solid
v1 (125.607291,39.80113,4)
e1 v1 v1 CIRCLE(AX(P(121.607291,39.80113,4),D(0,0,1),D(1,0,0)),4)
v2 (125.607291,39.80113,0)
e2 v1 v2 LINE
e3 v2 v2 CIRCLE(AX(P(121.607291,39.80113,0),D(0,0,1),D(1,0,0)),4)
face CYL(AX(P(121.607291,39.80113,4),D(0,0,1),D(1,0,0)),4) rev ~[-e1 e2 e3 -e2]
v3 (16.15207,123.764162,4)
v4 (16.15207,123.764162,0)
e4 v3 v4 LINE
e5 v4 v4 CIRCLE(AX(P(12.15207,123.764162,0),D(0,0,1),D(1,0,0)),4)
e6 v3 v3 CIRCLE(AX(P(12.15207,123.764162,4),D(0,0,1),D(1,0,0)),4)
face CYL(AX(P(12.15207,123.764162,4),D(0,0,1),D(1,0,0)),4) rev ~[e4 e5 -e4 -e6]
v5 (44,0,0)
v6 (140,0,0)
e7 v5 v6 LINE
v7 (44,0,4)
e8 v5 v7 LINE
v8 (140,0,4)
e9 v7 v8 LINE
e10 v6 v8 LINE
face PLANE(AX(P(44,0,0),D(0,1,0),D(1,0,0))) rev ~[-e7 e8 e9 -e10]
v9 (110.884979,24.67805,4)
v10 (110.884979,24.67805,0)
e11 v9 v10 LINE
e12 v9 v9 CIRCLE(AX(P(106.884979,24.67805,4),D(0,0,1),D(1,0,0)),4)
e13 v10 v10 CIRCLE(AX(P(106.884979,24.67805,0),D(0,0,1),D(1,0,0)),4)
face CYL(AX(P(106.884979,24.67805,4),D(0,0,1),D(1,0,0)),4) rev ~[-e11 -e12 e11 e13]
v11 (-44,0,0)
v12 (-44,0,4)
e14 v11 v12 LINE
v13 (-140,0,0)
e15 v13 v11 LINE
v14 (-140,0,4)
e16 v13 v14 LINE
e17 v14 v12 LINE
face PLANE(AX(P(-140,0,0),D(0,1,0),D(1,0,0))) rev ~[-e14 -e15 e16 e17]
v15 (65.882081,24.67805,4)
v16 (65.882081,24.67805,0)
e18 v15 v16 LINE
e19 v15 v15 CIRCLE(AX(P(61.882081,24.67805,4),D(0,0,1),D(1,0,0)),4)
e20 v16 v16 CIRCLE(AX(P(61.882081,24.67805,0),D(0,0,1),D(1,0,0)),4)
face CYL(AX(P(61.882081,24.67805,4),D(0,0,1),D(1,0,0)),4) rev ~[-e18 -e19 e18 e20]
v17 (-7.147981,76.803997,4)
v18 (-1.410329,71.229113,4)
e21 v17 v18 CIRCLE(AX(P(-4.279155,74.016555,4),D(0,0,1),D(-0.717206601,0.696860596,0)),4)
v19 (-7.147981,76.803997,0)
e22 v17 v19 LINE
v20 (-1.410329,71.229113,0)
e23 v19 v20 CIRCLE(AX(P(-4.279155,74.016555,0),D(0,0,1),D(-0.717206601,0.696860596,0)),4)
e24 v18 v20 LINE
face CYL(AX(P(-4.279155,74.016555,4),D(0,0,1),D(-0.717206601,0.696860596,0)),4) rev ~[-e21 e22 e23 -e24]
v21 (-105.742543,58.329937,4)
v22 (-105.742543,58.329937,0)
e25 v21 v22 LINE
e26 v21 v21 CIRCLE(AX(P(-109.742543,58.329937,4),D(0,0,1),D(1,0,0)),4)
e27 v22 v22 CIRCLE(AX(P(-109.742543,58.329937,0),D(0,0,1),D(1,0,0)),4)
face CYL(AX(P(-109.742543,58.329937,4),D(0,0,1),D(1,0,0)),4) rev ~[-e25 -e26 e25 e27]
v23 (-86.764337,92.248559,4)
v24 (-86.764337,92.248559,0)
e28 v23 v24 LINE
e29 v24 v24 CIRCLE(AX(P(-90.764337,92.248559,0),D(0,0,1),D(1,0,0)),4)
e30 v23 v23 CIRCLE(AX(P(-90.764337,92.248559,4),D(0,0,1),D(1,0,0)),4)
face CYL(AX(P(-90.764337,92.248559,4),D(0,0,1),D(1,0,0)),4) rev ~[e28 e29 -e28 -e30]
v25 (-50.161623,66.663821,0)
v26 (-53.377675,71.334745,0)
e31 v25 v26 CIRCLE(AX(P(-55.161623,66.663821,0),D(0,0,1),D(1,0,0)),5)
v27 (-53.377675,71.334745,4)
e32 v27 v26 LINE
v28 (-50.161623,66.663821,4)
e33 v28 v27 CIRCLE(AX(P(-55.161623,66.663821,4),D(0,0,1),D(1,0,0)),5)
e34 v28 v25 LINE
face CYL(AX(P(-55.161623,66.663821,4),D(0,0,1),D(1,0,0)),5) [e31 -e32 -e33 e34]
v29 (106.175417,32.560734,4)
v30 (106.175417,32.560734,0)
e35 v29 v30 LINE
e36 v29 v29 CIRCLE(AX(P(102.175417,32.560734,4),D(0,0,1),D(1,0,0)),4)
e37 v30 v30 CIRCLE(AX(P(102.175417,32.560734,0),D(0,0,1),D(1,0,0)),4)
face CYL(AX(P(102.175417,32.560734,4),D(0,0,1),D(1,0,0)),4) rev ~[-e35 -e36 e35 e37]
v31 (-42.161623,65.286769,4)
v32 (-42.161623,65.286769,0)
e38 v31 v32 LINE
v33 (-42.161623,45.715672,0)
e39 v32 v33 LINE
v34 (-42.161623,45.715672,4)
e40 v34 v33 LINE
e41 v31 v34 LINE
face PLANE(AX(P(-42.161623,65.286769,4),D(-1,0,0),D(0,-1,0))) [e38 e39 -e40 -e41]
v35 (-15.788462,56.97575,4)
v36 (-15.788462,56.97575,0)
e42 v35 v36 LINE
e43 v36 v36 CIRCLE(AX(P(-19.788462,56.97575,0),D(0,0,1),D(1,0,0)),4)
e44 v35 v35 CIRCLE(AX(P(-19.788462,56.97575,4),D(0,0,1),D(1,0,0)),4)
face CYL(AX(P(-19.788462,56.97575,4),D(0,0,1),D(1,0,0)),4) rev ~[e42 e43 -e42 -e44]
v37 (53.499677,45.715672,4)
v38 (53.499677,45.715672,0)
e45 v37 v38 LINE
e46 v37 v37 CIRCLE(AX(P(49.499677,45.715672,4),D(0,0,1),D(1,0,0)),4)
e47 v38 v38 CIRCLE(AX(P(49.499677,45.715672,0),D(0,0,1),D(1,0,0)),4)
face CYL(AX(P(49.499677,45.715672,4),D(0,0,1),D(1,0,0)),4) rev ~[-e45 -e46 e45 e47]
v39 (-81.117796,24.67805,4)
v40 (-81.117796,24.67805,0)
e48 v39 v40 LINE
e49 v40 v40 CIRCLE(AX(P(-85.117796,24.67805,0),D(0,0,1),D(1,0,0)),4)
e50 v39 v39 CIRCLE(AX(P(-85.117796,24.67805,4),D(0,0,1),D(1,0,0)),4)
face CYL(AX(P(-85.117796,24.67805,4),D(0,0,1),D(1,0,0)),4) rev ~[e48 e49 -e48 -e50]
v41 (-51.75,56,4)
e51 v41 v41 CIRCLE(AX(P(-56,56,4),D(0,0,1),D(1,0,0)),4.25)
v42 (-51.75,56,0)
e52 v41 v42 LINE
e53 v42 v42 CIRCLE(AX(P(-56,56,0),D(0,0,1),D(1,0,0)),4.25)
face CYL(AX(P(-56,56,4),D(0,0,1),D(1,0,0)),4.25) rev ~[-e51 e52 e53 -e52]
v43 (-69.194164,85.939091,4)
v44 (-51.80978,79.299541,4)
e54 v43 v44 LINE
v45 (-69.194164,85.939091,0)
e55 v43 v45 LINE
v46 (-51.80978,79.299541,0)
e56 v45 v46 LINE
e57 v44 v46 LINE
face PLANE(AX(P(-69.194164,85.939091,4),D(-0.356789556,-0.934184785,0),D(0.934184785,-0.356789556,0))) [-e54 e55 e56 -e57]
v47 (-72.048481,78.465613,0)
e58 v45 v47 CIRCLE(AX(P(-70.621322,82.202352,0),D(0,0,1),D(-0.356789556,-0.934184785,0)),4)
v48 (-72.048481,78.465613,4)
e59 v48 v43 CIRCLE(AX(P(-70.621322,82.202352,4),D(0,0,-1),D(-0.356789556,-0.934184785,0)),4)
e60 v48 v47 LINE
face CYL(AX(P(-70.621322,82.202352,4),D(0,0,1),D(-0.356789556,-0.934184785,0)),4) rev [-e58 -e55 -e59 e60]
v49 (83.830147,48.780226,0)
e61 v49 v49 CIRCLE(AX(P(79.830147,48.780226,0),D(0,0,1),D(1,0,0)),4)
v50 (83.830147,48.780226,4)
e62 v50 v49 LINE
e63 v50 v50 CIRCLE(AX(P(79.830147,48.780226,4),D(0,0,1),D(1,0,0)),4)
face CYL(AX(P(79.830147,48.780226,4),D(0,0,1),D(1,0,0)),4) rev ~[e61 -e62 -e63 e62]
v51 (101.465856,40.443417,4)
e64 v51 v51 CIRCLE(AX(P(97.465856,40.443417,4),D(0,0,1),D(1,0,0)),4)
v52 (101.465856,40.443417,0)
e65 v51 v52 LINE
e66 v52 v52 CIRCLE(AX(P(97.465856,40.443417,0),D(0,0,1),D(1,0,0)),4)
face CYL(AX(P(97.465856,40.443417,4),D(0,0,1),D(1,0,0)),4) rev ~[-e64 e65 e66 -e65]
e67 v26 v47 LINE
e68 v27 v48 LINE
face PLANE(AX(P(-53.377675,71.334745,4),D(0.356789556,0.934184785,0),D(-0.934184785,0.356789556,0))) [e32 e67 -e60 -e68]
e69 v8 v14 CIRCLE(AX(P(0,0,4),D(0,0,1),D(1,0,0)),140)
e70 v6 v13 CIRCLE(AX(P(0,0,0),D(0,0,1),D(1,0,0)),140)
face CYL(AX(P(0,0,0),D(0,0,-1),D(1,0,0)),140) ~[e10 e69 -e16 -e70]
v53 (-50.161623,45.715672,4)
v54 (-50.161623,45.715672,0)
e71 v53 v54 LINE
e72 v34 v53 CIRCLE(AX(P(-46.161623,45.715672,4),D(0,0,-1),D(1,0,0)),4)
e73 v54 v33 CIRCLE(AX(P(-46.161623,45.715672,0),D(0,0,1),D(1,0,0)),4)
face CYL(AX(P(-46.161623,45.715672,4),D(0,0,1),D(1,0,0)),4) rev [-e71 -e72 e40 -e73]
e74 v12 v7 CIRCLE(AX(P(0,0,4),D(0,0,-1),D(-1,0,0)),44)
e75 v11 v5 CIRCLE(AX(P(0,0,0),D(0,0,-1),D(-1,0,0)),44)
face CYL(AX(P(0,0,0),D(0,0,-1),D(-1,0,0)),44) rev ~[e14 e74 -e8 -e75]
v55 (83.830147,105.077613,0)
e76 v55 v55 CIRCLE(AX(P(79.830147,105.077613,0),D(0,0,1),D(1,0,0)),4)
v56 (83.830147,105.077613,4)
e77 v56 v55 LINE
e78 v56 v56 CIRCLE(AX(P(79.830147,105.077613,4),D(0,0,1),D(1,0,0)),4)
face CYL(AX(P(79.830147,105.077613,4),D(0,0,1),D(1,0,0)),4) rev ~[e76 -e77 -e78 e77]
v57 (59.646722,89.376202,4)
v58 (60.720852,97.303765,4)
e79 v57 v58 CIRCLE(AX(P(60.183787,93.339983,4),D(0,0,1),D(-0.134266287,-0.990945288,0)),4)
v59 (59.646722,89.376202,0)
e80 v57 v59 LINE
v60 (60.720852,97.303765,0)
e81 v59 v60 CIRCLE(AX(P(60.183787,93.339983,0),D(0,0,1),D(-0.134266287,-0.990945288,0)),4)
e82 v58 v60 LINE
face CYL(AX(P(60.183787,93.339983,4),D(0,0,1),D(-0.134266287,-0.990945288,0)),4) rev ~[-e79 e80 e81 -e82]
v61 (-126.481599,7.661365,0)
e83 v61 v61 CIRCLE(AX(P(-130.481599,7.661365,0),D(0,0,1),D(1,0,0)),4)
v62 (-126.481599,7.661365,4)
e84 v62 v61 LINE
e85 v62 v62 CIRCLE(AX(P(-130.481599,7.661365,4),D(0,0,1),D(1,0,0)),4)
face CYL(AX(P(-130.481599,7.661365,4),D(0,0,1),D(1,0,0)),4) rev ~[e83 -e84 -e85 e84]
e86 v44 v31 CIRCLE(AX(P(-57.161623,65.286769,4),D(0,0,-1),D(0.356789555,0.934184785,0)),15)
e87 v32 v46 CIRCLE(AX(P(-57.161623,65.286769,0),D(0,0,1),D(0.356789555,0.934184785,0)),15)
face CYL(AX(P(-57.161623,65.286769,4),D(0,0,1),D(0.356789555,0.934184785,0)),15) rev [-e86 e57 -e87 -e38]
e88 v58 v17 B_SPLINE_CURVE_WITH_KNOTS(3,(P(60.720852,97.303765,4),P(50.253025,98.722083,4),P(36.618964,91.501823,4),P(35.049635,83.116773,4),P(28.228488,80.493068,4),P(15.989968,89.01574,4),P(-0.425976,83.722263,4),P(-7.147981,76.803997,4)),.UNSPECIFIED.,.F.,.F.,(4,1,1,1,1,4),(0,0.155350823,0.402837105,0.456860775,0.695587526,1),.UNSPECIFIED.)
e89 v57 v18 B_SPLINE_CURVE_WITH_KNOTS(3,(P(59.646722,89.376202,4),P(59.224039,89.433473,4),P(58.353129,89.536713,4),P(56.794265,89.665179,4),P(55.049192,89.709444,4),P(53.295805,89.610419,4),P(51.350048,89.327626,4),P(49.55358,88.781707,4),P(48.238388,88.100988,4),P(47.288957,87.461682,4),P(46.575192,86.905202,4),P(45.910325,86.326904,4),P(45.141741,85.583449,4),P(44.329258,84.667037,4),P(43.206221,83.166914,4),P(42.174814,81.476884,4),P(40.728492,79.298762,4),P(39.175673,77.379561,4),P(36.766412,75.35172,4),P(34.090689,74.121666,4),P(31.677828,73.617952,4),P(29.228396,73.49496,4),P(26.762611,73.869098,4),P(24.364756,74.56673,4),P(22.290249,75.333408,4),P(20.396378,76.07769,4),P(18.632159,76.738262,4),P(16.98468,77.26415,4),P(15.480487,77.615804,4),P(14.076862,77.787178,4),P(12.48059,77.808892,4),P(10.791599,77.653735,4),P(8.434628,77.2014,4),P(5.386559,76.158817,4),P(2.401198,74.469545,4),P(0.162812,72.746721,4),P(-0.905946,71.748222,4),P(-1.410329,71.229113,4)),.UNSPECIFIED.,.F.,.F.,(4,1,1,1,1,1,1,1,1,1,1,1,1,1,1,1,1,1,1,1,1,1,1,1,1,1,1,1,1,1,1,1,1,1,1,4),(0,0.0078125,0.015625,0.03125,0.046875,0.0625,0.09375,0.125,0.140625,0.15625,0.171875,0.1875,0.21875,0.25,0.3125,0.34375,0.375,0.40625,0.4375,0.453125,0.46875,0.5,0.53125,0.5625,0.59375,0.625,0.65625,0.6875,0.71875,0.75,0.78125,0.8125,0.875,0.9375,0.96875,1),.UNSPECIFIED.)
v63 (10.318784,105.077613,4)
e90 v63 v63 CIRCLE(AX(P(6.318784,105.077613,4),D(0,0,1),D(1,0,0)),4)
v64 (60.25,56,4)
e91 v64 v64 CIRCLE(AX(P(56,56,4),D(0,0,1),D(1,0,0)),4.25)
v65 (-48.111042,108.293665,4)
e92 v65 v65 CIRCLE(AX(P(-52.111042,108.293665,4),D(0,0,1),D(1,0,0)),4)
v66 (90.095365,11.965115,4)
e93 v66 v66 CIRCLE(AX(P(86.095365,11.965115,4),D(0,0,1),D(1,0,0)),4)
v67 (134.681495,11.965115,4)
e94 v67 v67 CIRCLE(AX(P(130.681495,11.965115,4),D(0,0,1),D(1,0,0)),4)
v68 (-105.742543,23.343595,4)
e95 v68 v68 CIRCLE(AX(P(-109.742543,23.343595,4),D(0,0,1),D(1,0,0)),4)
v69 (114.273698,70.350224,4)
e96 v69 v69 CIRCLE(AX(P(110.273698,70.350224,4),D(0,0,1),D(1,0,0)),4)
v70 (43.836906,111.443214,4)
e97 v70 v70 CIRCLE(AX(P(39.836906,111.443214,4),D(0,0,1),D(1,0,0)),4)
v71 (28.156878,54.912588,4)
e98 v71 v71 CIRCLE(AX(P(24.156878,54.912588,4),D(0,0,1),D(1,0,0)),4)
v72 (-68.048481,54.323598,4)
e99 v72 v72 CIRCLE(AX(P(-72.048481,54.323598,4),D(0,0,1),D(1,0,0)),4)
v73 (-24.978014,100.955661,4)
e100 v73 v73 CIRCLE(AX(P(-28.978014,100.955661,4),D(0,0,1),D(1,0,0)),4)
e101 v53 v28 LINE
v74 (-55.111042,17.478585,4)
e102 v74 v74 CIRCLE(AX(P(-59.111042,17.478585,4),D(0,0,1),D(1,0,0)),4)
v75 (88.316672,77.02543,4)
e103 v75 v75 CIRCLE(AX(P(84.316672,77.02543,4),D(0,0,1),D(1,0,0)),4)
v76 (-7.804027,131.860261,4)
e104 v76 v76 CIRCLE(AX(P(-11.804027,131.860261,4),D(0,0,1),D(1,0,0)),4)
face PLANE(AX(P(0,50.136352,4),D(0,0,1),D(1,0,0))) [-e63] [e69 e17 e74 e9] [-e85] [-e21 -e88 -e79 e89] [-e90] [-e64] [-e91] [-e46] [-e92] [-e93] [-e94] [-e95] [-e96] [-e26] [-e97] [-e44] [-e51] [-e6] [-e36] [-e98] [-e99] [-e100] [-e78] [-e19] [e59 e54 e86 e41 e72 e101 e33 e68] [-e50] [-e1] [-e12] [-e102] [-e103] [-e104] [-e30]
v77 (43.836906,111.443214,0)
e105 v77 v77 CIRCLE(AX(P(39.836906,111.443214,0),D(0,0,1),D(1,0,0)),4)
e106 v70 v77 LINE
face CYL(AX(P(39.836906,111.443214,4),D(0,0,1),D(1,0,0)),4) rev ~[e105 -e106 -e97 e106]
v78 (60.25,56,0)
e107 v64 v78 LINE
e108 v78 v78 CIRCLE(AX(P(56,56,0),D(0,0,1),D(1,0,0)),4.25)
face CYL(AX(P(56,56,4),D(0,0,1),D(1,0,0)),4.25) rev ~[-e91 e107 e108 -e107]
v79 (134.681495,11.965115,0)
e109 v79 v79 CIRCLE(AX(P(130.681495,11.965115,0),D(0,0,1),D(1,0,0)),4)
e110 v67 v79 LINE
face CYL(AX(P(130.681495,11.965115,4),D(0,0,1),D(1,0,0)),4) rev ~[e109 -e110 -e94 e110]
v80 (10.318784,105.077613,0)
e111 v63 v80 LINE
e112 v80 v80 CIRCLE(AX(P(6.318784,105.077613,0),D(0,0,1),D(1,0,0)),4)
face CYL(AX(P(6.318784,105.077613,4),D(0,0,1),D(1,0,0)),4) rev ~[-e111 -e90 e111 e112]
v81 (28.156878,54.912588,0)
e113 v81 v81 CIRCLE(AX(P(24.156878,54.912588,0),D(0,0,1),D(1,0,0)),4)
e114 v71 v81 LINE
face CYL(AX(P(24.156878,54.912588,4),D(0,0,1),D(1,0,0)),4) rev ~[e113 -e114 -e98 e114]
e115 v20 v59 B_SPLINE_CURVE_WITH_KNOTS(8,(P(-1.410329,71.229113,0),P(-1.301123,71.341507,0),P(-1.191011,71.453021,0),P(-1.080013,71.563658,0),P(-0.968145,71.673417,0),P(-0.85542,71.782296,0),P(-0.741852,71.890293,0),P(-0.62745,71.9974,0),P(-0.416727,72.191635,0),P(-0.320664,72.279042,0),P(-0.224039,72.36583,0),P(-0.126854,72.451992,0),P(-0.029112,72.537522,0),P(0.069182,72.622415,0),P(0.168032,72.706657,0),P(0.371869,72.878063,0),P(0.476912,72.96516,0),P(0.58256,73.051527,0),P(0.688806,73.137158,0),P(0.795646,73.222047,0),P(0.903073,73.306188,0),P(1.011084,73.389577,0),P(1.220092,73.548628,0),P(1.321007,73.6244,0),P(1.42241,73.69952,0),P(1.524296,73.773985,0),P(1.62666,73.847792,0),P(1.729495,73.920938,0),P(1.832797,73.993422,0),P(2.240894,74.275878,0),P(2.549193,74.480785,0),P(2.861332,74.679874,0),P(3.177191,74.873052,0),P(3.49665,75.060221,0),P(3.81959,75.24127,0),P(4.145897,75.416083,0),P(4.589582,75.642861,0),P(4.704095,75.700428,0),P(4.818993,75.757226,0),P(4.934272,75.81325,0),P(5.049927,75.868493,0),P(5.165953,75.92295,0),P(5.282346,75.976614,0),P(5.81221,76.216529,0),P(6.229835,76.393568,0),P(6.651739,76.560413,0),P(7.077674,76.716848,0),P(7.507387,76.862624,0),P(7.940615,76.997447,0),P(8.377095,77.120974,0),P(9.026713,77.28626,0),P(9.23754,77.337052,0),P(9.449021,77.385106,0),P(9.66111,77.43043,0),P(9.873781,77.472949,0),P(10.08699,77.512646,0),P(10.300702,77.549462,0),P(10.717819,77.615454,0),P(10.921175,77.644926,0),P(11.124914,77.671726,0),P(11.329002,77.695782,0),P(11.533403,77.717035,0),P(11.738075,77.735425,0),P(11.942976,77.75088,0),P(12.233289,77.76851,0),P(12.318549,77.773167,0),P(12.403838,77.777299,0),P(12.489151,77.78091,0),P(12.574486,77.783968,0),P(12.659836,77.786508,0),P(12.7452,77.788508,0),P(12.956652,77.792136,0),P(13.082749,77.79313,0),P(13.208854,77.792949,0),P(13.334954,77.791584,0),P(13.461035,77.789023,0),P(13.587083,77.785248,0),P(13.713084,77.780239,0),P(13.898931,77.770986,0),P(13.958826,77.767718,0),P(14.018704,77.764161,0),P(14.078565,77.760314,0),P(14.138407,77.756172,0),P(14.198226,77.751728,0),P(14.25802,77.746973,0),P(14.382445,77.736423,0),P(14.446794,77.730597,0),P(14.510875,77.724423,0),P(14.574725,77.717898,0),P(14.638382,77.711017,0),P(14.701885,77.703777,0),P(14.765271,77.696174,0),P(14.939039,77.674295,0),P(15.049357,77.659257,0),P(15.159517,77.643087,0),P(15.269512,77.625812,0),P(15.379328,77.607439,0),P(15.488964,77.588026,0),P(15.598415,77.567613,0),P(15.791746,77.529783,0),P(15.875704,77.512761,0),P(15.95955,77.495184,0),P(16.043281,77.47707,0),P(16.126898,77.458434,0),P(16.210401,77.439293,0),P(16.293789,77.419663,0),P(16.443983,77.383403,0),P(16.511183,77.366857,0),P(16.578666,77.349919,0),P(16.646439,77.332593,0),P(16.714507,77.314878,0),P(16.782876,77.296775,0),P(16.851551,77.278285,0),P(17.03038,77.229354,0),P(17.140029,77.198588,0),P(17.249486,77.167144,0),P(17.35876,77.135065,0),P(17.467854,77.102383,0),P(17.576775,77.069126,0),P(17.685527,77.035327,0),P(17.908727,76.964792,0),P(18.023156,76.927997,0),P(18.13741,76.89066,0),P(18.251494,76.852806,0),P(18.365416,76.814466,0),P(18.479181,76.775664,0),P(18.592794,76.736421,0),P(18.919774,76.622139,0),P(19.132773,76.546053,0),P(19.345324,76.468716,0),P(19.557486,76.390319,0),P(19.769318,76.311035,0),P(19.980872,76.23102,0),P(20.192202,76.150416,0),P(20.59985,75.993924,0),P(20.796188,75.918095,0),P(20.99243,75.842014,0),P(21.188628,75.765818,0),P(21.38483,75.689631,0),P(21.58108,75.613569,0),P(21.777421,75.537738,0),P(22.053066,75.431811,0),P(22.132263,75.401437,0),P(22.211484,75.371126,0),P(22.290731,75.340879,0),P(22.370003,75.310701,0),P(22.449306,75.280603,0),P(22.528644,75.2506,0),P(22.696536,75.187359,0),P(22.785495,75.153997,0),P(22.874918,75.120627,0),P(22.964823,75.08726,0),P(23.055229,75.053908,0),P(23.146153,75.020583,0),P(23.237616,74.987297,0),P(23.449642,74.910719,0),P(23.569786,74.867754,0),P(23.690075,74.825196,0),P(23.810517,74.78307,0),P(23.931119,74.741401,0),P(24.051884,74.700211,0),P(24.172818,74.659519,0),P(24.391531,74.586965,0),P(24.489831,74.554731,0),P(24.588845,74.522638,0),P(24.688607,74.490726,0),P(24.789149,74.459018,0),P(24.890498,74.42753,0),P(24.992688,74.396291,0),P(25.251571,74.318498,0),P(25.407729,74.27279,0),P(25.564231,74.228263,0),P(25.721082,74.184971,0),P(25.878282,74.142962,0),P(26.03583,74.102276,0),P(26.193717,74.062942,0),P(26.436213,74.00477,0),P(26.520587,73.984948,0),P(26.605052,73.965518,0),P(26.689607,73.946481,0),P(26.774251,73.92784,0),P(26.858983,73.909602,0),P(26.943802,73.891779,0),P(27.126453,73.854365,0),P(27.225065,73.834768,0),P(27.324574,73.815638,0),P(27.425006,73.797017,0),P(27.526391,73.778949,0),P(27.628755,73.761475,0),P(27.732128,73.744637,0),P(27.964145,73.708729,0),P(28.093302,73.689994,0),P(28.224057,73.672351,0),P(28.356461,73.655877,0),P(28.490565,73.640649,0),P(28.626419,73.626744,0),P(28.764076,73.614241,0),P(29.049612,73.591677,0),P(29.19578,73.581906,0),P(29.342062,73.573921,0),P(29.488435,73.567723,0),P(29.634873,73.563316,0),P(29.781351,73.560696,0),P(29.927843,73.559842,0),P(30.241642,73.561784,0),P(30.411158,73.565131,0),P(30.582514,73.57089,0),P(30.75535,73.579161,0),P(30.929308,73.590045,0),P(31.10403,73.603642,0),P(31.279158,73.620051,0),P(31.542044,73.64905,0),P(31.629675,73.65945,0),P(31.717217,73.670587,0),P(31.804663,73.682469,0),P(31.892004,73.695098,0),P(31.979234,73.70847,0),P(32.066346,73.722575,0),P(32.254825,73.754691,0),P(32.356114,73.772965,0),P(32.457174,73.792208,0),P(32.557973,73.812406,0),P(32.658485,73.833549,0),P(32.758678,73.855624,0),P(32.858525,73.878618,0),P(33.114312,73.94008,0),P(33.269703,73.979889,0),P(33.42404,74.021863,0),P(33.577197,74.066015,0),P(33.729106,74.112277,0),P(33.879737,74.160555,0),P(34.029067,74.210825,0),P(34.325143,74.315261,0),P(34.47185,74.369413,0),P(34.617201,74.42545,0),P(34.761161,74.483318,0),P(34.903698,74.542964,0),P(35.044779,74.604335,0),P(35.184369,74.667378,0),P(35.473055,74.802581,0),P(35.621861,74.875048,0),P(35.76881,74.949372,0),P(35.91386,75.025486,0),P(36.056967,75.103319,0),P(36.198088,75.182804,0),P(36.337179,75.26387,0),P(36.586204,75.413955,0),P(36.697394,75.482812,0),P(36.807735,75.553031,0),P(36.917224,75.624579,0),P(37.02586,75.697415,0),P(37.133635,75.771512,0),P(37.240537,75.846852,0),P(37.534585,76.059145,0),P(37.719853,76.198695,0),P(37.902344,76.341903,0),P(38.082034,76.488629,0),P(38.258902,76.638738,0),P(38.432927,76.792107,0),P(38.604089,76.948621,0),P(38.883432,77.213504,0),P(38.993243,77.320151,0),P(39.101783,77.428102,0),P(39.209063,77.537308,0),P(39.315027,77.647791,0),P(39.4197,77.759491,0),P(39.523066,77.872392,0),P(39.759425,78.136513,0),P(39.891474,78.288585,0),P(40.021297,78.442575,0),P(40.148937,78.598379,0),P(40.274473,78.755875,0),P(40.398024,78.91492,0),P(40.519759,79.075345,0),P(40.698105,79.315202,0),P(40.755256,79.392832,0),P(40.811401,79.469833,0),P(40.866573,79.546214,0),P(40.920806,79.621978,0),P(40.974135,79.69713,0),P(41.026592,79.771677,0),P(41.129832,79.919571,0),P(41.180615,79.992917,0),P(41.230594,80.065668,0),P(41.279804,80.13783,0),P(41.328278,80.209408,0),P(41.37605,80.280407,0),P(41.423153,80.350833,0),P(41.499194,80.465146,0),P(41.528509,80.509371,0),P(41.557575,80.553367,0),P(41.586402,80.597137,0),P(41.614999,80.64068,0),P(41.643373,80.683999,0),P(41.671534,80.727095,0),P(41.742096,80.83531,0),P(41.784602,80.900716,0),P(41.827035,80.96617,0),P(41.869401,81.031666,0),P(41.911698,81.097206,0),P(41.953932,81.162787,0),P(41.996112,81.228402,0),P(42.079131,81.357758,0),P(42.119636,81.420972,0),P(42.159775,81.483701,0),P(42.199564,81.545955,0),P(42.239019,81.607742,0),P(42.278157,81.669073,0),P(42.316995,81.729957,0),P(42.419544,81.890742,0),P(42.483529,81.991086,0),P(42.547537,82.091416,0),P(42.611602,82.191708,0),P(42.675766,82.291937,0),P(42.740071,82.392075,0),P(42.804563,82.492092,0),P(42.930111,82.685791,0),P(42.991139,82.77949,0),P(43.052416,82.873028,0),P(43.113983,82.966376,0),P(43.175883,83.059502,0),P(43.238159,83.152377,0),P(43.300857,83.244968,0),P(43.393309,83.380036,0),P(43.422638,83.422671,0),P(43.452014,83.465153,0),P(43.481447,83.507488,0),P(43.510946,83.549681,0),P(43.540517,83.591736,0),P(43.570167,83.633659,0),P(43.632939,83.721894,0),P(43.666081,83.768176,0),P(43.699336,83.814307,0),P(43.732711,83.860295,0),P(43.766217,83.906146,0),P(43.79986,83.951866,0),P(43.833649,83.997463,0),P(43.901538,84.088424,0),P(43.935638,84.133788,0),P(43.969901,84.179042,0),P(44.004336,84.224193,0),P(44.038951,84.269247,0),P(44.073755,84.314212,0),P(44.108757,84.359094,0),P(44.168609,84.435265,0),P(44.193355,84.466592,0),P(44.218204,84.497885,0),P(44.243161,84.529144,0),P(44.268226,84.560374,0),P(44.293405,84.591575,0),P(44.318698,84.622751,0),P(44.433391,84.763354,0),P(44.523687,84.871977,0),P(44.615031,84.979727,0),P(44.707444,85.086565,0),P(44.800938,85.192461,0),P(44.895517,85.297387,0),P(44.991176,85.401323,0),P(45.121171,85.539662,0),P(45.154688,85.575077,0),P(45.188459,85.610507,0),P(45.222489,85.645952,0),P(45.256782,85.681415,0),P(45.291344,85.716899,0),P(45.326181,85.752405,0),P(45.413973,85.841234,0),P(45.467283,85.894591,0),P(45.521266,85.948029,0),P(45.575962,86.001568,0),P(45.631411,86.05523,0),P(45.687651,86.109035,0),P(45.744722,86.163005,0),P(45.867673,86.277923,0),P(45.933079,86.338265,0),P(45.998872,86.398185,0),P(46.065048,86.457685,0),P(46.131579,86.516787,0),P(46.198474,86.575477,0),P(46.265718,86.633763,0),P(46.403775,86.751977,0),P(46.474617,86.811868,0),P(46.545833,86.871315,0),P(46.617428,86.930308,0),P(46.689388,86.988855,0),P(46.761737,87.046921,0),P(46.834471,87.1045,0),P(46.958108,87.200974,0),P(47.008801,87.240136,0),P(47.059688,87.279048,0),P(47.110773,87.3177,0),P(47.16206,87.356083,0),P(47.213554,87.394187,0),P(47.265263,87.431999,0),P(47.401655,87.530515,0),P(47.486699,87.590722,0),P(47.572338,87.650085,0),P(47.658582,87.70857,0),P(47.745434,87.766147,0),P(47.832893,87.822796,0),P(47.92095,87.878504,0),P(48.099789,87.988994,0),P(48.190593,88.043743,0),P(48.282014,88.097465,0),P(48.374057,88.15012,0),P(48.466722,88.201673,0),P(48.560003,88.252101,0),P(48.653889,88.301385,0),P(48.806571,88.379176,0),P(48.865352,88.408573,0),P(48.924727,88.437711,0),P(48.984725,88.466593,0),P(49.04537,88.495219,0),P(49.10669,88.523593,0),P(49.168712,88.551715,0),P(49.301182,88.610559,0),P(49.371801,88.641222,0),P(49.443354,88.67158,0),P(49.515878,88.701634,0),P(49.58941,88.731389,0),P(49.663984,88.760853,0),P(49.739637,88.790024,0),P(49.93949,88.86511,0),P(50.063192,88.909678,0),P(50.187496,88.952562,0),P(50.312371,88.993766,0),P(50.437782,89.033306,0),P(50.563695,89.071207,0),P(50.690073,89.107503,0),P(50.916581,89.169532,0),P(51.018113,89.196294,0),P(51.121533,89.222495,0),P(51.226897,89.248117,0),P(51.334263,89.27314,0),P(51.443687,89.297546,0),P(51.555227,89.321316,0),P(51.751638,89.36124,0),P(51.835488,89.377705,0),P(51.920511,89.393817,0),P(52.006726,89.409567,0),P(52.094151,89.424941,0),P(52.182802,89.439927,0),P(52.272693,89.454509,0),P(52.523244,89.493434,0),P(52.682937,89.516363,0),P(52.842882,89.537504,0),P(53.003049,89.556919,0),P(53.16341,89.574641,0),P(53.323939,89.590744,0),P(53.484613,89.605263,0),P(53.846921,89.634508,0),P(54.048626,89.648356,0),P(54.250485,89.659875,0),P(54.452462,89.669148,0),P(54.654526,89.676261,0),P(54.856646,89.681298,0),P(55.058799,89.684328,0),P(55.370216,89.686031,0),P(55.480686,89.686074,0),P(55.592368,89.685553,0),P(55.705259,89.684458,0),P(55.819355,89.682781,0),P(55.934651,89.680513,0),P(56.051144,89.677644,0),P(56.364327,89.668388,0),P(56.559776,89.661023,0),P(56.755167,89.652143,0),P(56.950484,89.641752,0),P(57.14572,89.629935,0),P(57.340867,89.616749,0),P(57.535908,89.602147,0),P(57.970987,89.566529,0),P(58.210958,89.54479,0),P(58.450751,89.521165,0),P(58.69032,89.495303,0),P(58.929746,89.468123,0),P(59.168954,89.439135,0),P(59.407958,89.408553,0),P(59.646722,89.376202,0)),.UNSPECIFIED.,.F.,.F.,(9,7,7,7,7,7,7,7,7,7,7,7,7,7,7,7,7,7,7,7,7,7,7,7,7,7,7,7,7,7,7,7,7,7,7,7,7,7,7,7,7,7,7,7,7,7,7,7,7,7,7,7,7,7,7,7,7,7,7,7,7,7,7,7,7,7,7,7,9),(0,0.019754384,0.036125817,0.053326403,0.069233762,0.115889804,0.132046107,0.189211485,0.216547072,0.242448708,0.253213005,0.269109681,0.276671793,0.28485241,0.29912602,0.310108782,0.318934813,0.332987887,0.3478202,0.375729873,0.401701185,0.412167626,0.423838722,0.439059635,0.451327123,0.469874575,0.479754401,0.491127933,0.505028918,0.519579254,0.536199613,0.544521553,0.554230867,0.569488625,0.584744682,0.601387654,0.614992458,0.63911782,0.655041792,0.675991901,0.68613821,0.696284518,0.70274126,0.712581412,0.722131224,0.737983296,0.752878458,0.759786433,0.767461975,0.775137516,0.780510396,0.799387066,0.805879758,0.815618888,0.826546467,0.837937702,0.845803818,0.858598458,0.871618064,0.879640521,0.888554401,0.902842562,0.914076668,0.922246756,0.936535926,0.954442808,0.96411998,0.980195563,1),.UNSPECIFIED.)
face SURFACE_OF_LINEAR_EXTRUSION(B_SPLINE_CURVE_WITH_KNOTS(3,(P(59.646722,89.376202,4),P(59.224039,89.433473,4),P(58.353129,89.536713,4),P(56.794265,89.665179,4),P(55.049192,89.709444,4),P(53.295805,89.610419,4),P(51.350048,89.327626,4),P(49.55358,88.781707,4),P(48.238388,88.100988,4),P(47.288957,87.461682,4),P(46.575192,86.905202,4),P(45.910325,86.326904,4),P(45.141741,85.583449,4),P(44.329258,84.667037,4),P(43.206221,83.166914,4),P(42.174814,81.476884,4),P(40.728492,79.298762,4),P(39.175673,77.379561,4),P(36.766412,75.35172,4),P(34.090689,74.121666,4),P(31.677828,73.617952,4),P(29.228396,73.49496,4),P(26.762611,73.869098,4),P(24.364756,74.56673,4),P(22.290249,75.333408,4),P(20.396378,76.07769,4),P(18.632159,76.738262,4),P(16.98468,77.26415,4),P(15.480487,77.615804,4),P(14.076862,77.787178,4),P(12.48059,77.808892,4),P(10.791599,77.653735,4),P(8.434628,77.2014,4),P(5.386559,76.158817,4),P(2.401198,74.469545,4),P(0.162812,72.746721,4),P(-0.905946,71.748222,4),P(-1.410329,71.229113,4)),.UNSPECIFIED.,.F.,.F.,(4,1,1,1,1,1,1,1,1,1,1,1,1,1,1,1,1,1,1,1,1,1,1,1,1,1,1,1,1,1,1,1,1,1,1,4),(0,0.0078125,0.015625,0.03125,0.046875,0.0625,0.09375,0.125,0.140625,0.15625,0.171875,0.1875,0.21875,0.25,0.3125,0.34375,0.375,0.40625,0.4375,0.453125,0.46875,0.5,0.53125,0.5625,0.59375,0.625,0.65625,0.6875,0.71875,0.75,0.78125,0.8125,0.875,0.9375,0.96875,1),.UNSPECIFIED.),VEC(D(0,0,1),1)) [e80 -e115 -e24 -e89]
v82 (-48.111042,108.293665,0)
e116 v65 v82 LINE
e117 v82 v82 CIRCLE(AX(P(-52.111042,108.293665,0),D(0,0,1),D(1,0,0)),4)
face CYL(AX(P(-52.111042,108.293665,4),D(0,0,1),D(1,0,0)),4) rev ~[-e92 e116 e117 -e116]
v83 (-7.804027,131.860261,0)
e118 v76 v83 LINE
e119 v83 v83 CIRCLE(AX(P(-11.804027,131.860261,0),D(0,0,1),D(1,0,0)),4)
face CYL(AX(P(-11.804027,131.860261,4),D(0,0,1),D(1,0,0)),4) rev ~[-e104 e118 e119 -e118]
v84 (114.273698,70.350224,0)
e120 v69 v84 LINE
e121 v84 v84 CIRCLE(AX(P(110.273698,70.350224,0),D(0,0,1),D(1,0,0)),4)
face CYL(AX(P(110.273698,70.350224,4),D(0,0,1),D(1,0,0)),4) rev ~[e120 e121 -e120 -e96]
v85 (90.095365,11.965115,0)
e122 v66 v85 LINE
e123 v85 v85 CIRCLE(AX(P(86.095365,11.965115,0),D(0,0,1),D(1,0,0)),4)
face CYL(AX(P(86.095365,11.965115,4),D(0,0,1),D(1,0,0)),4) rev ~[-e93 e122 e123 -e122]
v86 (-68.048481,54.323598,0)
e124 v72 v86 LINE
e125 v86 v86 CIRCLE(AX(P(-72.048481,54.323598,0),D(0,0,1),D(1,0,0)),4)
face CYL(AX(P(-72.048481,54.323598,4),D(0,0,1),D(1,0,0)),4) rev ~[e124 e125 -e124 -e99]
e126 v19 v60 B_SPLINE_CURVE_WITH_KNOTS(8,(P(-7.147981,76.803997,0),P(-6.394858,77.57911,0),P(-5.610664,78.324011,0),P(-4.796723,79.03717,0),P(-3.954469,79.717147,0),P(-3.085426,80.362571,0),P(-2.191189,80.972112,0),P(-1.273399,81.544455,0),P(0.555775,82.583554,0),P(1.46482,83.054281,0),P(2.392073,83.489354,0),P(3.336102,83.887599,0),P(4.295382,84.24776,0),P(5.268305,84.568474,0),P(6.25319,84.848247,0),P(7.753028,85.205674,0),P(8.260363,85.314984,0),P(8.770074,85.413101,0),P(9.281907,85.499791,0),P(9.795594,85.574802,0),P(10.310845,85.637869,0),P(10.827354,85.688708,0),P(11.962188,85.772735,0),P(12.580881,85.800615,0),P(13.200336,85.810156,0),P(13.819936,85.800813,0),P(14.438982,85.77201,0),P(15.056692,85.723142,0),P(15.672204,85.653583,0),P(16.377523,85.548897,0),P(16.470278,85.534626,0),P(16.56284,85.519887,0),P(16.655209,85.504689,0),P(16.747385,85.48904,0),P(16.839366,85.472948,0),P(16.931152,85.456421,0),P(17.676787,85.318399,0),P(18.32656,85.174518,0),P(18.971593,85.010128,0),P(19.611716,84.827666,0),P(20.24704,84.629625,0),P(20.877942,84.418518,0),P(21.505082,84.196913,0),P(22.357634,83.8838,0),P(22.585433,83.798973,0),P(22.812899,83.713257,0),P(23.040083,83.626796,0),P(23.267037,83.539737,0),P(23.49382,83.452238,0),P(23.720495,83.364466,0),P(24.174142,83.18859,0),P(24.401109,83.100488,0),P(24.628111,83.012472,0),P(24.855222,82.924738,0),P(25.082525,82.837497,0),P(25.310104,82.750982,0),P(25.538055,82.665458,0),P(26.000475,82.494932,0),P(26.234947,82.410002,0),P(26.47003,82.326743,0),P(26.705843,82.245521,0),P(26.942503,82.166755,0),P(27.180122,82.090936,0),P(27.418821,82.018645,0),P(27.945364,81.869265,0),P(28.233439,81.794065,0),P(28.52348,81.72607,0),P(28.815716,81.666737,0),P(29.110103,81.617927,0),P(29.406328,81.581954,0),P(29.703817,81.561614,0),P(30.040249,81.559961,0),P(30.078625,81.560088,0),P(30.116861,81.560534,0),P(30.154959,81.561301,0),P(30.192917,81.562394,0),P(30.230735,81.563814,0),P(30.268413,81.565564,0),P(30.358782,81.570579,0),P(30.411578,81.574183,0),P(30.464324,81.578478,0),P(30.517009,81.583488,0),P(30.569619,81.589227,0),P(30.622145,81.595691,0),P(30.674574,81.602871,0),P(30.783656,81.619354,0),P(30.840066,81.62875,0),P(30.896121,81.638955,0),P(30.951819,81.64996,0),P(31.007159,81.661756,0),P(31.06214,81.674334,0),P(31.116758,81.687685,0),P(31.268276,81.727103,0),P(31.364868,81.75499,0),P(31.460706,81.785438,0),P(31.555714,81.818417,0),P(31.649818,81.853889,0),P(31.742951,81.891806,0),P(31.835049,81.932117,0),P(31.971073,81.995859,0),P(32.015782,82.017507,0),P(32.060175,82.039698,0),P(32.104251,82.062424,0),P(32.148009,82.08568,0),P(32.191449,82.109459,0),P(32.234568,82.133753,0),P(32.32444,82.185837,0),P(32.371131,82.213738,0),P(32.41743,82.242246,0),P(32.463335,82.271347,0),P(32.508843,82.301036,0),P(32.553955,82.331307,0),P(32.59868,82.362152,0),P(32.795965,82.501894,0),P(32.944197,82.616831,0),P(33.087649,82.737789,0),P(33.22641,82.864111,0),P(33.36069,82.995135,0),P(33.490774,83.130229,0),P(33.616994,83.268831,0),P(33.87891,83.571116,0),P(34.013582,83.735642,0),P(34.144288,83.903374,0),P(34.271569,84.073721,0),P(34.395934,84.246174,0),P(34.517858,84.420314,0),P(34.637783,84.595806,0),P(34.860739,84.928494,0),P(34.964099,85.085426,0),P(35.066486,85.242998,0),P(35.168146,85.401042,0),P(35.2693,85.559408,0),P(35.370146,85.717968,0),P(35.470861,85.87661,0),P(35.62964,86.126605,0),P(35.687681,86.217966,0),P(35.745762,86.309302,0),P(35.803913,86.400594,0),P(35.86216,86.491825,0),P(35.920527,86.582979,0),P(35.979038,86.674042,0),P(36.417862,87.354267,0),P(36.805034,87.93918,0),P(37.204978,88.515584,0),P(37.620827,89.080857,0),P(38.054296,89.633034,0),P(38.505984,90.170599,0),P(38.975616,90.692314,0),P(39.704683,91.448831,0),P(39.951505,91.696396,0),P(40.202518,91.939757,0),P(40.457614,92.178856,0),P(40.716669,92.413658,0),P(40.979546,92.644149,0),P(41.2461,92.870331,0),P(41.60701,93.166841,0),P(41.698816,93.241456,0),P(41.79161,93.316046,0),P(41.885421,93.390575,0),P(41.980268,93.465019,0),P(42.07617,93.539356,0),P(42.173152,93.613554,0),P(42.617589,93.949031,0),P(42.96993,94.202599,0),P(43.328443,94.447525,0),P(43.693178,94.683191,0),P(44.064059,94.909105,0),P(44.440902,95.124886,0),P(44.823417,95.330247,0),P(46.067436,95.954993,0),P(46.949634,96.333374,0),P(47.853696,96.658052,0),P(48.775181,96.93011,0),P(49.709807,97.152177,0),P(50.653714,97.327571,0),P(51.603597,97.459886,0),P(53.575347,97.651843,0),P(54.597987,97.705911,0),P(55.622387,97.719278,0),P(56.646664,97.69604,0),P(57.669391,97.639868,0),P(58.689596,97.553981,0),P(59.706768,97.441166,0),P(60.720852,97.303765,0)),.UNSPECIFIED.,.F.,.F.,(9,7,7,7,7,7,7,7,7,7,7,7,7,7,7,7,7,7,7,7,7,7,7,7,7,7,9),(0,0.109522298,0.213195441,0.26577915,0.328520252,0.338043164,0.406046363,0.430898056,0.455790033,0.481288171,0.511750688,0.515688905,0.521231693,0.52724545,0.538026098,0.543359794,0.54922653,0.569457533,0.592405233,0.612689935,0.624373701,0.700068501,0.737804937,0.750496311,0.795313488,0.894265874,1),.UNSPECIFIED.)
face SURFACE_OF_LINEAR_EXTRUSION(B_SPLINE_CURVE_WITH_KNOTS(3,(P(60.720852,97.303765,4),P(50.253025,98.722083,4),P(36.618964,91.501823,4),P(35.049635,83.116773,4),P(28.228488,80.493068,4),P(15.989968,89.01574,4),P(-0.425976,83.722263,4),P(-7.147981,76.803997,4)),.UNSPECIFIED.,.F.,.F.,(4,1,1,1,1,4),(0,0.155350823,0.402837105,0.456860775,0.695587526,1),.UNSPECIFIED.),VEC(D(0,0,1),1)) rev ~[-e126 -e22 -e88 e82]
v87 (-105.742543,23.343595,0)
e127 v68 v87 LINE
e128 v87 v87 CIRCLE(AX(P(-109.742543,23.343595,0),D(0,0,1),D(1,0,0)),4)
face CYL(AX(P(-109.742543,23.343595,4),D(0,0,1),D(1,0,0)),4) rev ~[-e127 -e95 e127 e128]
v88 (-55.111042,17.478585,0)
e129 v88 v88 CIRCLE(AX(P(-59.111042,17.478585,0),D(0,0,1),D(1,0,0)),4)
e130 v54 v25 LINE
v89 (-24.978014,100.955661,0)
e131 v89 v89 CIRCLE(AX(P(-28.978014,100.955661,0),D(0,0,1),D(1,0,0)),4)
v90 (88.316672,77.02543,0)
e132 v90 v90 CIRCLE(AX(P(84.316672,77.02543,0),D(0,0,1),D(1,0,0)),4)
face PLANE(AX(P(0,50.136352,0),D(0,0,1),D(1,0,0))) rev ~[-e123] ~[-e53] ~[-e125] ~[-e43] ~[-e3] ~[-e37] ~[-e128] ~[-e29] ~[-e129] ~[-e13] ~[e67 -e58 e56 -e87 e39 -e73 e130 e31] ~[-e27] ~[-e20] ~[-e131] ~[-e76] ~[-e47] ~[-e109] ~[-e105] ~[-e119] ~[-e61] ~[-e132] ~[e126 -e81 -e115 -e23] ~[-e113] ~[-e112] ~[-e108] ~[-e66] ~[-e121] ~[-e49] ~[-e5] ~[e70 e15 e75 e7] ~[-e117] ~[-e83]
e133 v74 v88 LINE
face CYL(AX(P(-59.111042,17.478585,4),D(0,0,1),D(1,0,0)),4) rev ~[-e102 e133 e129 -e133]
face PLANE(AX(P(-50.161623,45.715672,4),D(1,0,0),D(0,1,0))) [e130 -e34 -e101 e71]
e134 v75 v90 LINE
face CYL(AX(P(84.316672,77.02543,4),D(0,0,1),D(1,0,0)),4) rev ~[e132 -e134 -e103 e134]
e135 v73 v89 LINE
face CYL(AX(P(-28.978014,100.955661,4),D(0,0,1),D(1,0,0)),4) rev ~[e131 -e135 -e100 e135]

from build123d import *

# Parameters (mm, degrees)
AUFSATZ_LINEAR_AUSTRAGEN1_DEPTH = 4
AUFSATZ_LINEAR_START            = -4
AUFSATZ_LINEAR_AUSTRAGEN2_DEPTH = 4
SKIZZE3_R                       = 4
SCHNITT_LINEAR_AUSTRAGEN1_DEPTH = 5
KREISMUSTER1_COUNT              = 2
KREISMUSTER1_ANGLE              = 180
SKIZZE4_R                       = 4.25
SCHNITT_LINEAR_AUSTRAGEN2_DEPTH = 5.0000001
SCHNITT_LINEAR_AUSTRAGEN6_DEPTH = 5.0000001


with BuildPart() as part:
    # Skizze1 → Aufsatz-Linear austragen1 (new body)
    with BuildSketch(Plane.XY):
        with BuildLine():
            Line((-140, 0), (-44, 0))
            ThreePointArc((-44, 0), (0, 44), (44, 0))
            Line((44, 0), (140, 0))
            ThreePointArc((140, 0), (0, 140), (-140, 0))
        make_face()
    extrude(amount=AUFSATZ_LINEAR_AUSTRAGEN1_DEPTH)

    # Skizze3 → Schnitt-Linear austragen1 (cut, through all)
    with BuildSketch(Plane.XY.offset(4)):
        with Locations((97.465855695, 40.443417178)):
            Circle(SKIZZE3_R)
        with Locations((-28.978013808, 100.95566101)):
            Circle(SKIZZE3_R)
        with Locations((-85.117795529, 24.678050469)):
            Circle(SKIZZE3_R)
        with Locations((49.499676508, 45.715671604)):
            Circle(SKIZZE3_R)
        with Locations((84.316672436, 77.025430252)):
            Circle(SKIZZE3_R)
        with Locations((-109.742542616, 58.329937472)):
            Circle(SKIZZE3_R)
        with Locations((12.152070307, 123.764162201)):
            Circle(SKIZZE3_R)
        with Locations((61.8820811, 24.678050469)):
            Circle(SKIZZE3_R)
        with Locations((130.681494529, 11.965115379)):
            Circle(SKIZZE3_R)
        with Locations((-19.788462476, 56.975749593)):
            Circle(SKIZZE3_R)
        with Locations((24.156878396, 54.91258805)):
            Circle(SKIZZE3_R)
        with Locations((39.836906124, 111.443214335)):
            Circle(SKIZZE3_R)
        with Locations((-59.111041928, 17.478585009)):
            Circle(SKIZZE3_R)
        with Locations((-72.048480667, 54.3235981)):
            Circle(SKIZZE3_R)
        with Locations((-109.742542616, 23.34359544)):
            Circle(SKIZZE3_R)
        with Locations((-52.111041928, 108.293664898)):
            Circle(SKIZZE3_R)
        with Locations((-11.804027303, 131.860260966)):
            Circle(SKIZZE3_R)
        with Locations((6.318783693, 105.077612676)):
            Circle(SKIZZE3_R)
        with Locations((110.273697847, 70.350224162)):
            Circle(SKIZZE3_R)
        with Locations((121.607291156, 39.801130304)):
            Circle(SKIZZE3_R)
        with Locations((86.095365454, 11.965115379)):
            Circle(SKIZZE3_R)
        with Locations((79.830146969, 48.78022616)):
            Circle(SKIZZE3_R)
        with Locations((102.175417409, 32.560733823)):
            Circle(SKIZZE3_R)
        with Locations((106.884979123, 24.678050469)):
            Circle(SKIZZE3_R)
        with Locations((79.830146969, 105.077612676)):
            Circle(SKIZZE3_R)
        with Locations((-90.76433729, 92.248559489)):
            Circle(SKIZZE3_R)
        with Locations((-130.481598714, 7.661365172)):
            Circle(SKIZZE3_R)
        with BuildLine():
            Line((-69.194164222, 85.93909128), (-51.809779549, 79.29954097))
            ThreePointArc((-51.809779549, 79.29954097), (-44.806914265, 73.793306383), (-42.161622882, 65.286769191))
            Line((-42.161622882, 65.286769191), (-42.161622882, 45.715671604))
            ThreePointArc((-42.161622882, 45.715671604), (-46.161622882, 41.715671604), (-50.161622882, 45.715671604))
            Line((-50.161622882, 45.715671604), (-50.161622882, 66.663821043))
            ThreePointArc((-50.161622882, 66.663821043), (-51.043386676, 69.49933344), (-53.377675104, 71.334744969))
            Line((-53.377675104, 71.334744969), (-72.048480667, 78.465612998))
            ThreePointArc((-72.048480667, 78.465612998), (-74.358061586, 83.629510361), (-69.194164222, 85.93909128))
        make_face()
        with BuildLine():
            ThreePointArc((59.646721968, 89.376202207), (64.147568268, 92.802918212), (60.720852262, 97.303764512))
            add(Edge.make_bspline(
                [(60.720852262, 97.303764512), (50.253024592, 98.722083333), (36.618963976, 91.501822661), (35.049635356, 83.116773386), (28.228487587, 80.493067875), (15.98996772, 89.015739936), (-0.4259756, 83.722263265), (-7.147981409, 76.803997307)],
                knots=[0, 0, 0, 0, 0.155350823, 0.402837105, 0.456860775, 0.695587526, 1, 1, 1, 1], degree=3))
            ThreePointArc((-7.147981409, 76.803997307), (-7.066597389, 71.147728516), (-1.410328598, 71.229112536))
            add(Edge.make_bspline(
                [(59.646721968, 89.376202207), (59.224039082, 89.433472838), (58.353128752, 89.536713479), (56.794265381, 89.665179204), (55.049191603, 89.709444401), (53.295805349, 89.610418971), (51.350048397, 89.327625906), (49.553580127, 88.781707234), (48.238388062, 88.100988422), (47.288957061, 87.461682497), (46.575191923, 86.905201551), (45.910324977, 86.326903878), (45.141740672, 85.583449289), (44.329258338, 84.667037187), (43.206221079, 83.166913867), (42.174814317, 81.476884138), (40.728491779, 79.298762186), (39.175673345, 77.37956056), (36.766411609, 75.351719758), (34.090689098, 74.121665999), (31.677828193, 73.617951831), (29.228396224, 73.49496001), (26.762610597, 73.869098039), (24.364756292, 74.566730405), (22.290249105, 75.333408471), (20.396377608, 76.077690047), (18.632159097, 76.738262311), (16.984680069, 77.264150095), (15.480487252, 77.6158041), (14.076862312, 77.787177643), (12.480590355, 77.808891855), (10.791598978, 77.653734637), (8.43462818, 77.20140029), (5.386558712, 76.158816504), (2.401197885, 74.469544973), (0.16281186, 72.746720517), (-0.905945733, 71.748221698), (-1.410328598, 71.229112536)],
                knots=[0, 0, 0, 0, 0.0078125, 0.015625, 0.03125, 0.046875, 0.0625, 0.09375, 0.125, 0.140625, 0.15625, 0.171875, 0.1875, 0.21875, 0.25, 0.3125, 0.34375, 0.375, 0.40625, 0.4375, 0.453125, 0.46875, 0.5, 0.53125, 0.5625, 0.59375, 0.625, 0.65625, 0.6875, 0.71875, 0.75, 0.78125, 0.8125, 0.875, 0.9375, 0.96875, 1, 1, 1, 1], degree=3))
        make_face()
    schnitt_linear_austragen1 = extrude(amount=-SCHNITT_LINEAR_AUSTRAGEN1_DEPTH, mode=Mode.SUBTRACT)


with BuildPart() as body_2:
    # Skizze2 → Aufsatz-Linear austragen2 (new body)
    with BuildSketch(Plane.XY.offset(4).offset(AUFSATZ_LINEAR_START)):
        with BuildLine():
            Line((140, 0), (44, 0))
            ThreePointArc((44, 0), (0, -44), (-44, 0))
            Line((-44, 0), (-140, 0))
            ThreePointArc((-140, 0), (0, -140), (140, 0))
        make_face()
    extrude(amount=AUFSATZ_LINEAR_AUSTRAGEN2_DEPTH)

    # Kreismuster1: Schnitt-Linear austragen1 ×2 about axis
    kreismuster1_axis = Axis((0, 0, 4), (0, 0, -1))
    for i in range(1, KREISMUSTER1_COUNT):
        add(schnitt_linear_austragen1.rotate(kreismuster1_axis, i * KREISMUSTER1_ANGLE / (KREISMUSTER1_COUNT - 1)), mode=Mode.SUBTRACT)


with BuildPart() as schnitt_linear_austragen2_tool:
    # Skizze4 → Schnitt-Linear austragen2 (new body, through all)
    with BuildSketch(Plane.XY.offset(4)):
        with Locations((56, 56)):
            Circle(SKIZZE4_R)
        with Locations((-56, 56)):
            Circle(SKIZZE4_R)
        with Locations((-56, -56)):
            Circle(SKIZZE4_R)
        with Locations((56, -56)):
            Circle(SKIZZE4_R)
    extrude(amount=-SCHNITT_LINEAR_AUSTRAGEN2_DEPTH)


with BuildPart() as part_1:
    add(part.part)

    # Schnitt-Linear austragen2: cut by schnitt_linear_austragen2_tool
    add(schnitt_linear_austragen2_tool.part, mode=Mode.SUBTRACT)


with BuildPart() as body_2_1:
    add(body_2.part)

    # Schnitt-Linear austragen2: cut by schnitt_linear_austragen2_tool
    add(schnitt_linear_austragen2_tool.part, mode=Mode.SUBTRACT)

    # Skizze9 → Schnitt-Linear austragen6 (cut, through all)
    with BuildSketch(Plane(origin=(0, 0, 0), x_dir=(-1, 0, 0), z_dir=(0, 0, -1))):
        with BuildLine():
            Line((-44, 0), (-140, 0))
            ThreePointArc((-140, 0), (0, -140), (140, 0))
            Line((140, 0), (44, 0))
            ThreePointArc((44, 0), (0, -44), (-44, 0))
        make_face()
    extrude(amount=-SCHNITT_LINEAR_AUSTRAGEN6_DEPTH, mode=Mode.SUBTRACT)


solid = part_1.part
